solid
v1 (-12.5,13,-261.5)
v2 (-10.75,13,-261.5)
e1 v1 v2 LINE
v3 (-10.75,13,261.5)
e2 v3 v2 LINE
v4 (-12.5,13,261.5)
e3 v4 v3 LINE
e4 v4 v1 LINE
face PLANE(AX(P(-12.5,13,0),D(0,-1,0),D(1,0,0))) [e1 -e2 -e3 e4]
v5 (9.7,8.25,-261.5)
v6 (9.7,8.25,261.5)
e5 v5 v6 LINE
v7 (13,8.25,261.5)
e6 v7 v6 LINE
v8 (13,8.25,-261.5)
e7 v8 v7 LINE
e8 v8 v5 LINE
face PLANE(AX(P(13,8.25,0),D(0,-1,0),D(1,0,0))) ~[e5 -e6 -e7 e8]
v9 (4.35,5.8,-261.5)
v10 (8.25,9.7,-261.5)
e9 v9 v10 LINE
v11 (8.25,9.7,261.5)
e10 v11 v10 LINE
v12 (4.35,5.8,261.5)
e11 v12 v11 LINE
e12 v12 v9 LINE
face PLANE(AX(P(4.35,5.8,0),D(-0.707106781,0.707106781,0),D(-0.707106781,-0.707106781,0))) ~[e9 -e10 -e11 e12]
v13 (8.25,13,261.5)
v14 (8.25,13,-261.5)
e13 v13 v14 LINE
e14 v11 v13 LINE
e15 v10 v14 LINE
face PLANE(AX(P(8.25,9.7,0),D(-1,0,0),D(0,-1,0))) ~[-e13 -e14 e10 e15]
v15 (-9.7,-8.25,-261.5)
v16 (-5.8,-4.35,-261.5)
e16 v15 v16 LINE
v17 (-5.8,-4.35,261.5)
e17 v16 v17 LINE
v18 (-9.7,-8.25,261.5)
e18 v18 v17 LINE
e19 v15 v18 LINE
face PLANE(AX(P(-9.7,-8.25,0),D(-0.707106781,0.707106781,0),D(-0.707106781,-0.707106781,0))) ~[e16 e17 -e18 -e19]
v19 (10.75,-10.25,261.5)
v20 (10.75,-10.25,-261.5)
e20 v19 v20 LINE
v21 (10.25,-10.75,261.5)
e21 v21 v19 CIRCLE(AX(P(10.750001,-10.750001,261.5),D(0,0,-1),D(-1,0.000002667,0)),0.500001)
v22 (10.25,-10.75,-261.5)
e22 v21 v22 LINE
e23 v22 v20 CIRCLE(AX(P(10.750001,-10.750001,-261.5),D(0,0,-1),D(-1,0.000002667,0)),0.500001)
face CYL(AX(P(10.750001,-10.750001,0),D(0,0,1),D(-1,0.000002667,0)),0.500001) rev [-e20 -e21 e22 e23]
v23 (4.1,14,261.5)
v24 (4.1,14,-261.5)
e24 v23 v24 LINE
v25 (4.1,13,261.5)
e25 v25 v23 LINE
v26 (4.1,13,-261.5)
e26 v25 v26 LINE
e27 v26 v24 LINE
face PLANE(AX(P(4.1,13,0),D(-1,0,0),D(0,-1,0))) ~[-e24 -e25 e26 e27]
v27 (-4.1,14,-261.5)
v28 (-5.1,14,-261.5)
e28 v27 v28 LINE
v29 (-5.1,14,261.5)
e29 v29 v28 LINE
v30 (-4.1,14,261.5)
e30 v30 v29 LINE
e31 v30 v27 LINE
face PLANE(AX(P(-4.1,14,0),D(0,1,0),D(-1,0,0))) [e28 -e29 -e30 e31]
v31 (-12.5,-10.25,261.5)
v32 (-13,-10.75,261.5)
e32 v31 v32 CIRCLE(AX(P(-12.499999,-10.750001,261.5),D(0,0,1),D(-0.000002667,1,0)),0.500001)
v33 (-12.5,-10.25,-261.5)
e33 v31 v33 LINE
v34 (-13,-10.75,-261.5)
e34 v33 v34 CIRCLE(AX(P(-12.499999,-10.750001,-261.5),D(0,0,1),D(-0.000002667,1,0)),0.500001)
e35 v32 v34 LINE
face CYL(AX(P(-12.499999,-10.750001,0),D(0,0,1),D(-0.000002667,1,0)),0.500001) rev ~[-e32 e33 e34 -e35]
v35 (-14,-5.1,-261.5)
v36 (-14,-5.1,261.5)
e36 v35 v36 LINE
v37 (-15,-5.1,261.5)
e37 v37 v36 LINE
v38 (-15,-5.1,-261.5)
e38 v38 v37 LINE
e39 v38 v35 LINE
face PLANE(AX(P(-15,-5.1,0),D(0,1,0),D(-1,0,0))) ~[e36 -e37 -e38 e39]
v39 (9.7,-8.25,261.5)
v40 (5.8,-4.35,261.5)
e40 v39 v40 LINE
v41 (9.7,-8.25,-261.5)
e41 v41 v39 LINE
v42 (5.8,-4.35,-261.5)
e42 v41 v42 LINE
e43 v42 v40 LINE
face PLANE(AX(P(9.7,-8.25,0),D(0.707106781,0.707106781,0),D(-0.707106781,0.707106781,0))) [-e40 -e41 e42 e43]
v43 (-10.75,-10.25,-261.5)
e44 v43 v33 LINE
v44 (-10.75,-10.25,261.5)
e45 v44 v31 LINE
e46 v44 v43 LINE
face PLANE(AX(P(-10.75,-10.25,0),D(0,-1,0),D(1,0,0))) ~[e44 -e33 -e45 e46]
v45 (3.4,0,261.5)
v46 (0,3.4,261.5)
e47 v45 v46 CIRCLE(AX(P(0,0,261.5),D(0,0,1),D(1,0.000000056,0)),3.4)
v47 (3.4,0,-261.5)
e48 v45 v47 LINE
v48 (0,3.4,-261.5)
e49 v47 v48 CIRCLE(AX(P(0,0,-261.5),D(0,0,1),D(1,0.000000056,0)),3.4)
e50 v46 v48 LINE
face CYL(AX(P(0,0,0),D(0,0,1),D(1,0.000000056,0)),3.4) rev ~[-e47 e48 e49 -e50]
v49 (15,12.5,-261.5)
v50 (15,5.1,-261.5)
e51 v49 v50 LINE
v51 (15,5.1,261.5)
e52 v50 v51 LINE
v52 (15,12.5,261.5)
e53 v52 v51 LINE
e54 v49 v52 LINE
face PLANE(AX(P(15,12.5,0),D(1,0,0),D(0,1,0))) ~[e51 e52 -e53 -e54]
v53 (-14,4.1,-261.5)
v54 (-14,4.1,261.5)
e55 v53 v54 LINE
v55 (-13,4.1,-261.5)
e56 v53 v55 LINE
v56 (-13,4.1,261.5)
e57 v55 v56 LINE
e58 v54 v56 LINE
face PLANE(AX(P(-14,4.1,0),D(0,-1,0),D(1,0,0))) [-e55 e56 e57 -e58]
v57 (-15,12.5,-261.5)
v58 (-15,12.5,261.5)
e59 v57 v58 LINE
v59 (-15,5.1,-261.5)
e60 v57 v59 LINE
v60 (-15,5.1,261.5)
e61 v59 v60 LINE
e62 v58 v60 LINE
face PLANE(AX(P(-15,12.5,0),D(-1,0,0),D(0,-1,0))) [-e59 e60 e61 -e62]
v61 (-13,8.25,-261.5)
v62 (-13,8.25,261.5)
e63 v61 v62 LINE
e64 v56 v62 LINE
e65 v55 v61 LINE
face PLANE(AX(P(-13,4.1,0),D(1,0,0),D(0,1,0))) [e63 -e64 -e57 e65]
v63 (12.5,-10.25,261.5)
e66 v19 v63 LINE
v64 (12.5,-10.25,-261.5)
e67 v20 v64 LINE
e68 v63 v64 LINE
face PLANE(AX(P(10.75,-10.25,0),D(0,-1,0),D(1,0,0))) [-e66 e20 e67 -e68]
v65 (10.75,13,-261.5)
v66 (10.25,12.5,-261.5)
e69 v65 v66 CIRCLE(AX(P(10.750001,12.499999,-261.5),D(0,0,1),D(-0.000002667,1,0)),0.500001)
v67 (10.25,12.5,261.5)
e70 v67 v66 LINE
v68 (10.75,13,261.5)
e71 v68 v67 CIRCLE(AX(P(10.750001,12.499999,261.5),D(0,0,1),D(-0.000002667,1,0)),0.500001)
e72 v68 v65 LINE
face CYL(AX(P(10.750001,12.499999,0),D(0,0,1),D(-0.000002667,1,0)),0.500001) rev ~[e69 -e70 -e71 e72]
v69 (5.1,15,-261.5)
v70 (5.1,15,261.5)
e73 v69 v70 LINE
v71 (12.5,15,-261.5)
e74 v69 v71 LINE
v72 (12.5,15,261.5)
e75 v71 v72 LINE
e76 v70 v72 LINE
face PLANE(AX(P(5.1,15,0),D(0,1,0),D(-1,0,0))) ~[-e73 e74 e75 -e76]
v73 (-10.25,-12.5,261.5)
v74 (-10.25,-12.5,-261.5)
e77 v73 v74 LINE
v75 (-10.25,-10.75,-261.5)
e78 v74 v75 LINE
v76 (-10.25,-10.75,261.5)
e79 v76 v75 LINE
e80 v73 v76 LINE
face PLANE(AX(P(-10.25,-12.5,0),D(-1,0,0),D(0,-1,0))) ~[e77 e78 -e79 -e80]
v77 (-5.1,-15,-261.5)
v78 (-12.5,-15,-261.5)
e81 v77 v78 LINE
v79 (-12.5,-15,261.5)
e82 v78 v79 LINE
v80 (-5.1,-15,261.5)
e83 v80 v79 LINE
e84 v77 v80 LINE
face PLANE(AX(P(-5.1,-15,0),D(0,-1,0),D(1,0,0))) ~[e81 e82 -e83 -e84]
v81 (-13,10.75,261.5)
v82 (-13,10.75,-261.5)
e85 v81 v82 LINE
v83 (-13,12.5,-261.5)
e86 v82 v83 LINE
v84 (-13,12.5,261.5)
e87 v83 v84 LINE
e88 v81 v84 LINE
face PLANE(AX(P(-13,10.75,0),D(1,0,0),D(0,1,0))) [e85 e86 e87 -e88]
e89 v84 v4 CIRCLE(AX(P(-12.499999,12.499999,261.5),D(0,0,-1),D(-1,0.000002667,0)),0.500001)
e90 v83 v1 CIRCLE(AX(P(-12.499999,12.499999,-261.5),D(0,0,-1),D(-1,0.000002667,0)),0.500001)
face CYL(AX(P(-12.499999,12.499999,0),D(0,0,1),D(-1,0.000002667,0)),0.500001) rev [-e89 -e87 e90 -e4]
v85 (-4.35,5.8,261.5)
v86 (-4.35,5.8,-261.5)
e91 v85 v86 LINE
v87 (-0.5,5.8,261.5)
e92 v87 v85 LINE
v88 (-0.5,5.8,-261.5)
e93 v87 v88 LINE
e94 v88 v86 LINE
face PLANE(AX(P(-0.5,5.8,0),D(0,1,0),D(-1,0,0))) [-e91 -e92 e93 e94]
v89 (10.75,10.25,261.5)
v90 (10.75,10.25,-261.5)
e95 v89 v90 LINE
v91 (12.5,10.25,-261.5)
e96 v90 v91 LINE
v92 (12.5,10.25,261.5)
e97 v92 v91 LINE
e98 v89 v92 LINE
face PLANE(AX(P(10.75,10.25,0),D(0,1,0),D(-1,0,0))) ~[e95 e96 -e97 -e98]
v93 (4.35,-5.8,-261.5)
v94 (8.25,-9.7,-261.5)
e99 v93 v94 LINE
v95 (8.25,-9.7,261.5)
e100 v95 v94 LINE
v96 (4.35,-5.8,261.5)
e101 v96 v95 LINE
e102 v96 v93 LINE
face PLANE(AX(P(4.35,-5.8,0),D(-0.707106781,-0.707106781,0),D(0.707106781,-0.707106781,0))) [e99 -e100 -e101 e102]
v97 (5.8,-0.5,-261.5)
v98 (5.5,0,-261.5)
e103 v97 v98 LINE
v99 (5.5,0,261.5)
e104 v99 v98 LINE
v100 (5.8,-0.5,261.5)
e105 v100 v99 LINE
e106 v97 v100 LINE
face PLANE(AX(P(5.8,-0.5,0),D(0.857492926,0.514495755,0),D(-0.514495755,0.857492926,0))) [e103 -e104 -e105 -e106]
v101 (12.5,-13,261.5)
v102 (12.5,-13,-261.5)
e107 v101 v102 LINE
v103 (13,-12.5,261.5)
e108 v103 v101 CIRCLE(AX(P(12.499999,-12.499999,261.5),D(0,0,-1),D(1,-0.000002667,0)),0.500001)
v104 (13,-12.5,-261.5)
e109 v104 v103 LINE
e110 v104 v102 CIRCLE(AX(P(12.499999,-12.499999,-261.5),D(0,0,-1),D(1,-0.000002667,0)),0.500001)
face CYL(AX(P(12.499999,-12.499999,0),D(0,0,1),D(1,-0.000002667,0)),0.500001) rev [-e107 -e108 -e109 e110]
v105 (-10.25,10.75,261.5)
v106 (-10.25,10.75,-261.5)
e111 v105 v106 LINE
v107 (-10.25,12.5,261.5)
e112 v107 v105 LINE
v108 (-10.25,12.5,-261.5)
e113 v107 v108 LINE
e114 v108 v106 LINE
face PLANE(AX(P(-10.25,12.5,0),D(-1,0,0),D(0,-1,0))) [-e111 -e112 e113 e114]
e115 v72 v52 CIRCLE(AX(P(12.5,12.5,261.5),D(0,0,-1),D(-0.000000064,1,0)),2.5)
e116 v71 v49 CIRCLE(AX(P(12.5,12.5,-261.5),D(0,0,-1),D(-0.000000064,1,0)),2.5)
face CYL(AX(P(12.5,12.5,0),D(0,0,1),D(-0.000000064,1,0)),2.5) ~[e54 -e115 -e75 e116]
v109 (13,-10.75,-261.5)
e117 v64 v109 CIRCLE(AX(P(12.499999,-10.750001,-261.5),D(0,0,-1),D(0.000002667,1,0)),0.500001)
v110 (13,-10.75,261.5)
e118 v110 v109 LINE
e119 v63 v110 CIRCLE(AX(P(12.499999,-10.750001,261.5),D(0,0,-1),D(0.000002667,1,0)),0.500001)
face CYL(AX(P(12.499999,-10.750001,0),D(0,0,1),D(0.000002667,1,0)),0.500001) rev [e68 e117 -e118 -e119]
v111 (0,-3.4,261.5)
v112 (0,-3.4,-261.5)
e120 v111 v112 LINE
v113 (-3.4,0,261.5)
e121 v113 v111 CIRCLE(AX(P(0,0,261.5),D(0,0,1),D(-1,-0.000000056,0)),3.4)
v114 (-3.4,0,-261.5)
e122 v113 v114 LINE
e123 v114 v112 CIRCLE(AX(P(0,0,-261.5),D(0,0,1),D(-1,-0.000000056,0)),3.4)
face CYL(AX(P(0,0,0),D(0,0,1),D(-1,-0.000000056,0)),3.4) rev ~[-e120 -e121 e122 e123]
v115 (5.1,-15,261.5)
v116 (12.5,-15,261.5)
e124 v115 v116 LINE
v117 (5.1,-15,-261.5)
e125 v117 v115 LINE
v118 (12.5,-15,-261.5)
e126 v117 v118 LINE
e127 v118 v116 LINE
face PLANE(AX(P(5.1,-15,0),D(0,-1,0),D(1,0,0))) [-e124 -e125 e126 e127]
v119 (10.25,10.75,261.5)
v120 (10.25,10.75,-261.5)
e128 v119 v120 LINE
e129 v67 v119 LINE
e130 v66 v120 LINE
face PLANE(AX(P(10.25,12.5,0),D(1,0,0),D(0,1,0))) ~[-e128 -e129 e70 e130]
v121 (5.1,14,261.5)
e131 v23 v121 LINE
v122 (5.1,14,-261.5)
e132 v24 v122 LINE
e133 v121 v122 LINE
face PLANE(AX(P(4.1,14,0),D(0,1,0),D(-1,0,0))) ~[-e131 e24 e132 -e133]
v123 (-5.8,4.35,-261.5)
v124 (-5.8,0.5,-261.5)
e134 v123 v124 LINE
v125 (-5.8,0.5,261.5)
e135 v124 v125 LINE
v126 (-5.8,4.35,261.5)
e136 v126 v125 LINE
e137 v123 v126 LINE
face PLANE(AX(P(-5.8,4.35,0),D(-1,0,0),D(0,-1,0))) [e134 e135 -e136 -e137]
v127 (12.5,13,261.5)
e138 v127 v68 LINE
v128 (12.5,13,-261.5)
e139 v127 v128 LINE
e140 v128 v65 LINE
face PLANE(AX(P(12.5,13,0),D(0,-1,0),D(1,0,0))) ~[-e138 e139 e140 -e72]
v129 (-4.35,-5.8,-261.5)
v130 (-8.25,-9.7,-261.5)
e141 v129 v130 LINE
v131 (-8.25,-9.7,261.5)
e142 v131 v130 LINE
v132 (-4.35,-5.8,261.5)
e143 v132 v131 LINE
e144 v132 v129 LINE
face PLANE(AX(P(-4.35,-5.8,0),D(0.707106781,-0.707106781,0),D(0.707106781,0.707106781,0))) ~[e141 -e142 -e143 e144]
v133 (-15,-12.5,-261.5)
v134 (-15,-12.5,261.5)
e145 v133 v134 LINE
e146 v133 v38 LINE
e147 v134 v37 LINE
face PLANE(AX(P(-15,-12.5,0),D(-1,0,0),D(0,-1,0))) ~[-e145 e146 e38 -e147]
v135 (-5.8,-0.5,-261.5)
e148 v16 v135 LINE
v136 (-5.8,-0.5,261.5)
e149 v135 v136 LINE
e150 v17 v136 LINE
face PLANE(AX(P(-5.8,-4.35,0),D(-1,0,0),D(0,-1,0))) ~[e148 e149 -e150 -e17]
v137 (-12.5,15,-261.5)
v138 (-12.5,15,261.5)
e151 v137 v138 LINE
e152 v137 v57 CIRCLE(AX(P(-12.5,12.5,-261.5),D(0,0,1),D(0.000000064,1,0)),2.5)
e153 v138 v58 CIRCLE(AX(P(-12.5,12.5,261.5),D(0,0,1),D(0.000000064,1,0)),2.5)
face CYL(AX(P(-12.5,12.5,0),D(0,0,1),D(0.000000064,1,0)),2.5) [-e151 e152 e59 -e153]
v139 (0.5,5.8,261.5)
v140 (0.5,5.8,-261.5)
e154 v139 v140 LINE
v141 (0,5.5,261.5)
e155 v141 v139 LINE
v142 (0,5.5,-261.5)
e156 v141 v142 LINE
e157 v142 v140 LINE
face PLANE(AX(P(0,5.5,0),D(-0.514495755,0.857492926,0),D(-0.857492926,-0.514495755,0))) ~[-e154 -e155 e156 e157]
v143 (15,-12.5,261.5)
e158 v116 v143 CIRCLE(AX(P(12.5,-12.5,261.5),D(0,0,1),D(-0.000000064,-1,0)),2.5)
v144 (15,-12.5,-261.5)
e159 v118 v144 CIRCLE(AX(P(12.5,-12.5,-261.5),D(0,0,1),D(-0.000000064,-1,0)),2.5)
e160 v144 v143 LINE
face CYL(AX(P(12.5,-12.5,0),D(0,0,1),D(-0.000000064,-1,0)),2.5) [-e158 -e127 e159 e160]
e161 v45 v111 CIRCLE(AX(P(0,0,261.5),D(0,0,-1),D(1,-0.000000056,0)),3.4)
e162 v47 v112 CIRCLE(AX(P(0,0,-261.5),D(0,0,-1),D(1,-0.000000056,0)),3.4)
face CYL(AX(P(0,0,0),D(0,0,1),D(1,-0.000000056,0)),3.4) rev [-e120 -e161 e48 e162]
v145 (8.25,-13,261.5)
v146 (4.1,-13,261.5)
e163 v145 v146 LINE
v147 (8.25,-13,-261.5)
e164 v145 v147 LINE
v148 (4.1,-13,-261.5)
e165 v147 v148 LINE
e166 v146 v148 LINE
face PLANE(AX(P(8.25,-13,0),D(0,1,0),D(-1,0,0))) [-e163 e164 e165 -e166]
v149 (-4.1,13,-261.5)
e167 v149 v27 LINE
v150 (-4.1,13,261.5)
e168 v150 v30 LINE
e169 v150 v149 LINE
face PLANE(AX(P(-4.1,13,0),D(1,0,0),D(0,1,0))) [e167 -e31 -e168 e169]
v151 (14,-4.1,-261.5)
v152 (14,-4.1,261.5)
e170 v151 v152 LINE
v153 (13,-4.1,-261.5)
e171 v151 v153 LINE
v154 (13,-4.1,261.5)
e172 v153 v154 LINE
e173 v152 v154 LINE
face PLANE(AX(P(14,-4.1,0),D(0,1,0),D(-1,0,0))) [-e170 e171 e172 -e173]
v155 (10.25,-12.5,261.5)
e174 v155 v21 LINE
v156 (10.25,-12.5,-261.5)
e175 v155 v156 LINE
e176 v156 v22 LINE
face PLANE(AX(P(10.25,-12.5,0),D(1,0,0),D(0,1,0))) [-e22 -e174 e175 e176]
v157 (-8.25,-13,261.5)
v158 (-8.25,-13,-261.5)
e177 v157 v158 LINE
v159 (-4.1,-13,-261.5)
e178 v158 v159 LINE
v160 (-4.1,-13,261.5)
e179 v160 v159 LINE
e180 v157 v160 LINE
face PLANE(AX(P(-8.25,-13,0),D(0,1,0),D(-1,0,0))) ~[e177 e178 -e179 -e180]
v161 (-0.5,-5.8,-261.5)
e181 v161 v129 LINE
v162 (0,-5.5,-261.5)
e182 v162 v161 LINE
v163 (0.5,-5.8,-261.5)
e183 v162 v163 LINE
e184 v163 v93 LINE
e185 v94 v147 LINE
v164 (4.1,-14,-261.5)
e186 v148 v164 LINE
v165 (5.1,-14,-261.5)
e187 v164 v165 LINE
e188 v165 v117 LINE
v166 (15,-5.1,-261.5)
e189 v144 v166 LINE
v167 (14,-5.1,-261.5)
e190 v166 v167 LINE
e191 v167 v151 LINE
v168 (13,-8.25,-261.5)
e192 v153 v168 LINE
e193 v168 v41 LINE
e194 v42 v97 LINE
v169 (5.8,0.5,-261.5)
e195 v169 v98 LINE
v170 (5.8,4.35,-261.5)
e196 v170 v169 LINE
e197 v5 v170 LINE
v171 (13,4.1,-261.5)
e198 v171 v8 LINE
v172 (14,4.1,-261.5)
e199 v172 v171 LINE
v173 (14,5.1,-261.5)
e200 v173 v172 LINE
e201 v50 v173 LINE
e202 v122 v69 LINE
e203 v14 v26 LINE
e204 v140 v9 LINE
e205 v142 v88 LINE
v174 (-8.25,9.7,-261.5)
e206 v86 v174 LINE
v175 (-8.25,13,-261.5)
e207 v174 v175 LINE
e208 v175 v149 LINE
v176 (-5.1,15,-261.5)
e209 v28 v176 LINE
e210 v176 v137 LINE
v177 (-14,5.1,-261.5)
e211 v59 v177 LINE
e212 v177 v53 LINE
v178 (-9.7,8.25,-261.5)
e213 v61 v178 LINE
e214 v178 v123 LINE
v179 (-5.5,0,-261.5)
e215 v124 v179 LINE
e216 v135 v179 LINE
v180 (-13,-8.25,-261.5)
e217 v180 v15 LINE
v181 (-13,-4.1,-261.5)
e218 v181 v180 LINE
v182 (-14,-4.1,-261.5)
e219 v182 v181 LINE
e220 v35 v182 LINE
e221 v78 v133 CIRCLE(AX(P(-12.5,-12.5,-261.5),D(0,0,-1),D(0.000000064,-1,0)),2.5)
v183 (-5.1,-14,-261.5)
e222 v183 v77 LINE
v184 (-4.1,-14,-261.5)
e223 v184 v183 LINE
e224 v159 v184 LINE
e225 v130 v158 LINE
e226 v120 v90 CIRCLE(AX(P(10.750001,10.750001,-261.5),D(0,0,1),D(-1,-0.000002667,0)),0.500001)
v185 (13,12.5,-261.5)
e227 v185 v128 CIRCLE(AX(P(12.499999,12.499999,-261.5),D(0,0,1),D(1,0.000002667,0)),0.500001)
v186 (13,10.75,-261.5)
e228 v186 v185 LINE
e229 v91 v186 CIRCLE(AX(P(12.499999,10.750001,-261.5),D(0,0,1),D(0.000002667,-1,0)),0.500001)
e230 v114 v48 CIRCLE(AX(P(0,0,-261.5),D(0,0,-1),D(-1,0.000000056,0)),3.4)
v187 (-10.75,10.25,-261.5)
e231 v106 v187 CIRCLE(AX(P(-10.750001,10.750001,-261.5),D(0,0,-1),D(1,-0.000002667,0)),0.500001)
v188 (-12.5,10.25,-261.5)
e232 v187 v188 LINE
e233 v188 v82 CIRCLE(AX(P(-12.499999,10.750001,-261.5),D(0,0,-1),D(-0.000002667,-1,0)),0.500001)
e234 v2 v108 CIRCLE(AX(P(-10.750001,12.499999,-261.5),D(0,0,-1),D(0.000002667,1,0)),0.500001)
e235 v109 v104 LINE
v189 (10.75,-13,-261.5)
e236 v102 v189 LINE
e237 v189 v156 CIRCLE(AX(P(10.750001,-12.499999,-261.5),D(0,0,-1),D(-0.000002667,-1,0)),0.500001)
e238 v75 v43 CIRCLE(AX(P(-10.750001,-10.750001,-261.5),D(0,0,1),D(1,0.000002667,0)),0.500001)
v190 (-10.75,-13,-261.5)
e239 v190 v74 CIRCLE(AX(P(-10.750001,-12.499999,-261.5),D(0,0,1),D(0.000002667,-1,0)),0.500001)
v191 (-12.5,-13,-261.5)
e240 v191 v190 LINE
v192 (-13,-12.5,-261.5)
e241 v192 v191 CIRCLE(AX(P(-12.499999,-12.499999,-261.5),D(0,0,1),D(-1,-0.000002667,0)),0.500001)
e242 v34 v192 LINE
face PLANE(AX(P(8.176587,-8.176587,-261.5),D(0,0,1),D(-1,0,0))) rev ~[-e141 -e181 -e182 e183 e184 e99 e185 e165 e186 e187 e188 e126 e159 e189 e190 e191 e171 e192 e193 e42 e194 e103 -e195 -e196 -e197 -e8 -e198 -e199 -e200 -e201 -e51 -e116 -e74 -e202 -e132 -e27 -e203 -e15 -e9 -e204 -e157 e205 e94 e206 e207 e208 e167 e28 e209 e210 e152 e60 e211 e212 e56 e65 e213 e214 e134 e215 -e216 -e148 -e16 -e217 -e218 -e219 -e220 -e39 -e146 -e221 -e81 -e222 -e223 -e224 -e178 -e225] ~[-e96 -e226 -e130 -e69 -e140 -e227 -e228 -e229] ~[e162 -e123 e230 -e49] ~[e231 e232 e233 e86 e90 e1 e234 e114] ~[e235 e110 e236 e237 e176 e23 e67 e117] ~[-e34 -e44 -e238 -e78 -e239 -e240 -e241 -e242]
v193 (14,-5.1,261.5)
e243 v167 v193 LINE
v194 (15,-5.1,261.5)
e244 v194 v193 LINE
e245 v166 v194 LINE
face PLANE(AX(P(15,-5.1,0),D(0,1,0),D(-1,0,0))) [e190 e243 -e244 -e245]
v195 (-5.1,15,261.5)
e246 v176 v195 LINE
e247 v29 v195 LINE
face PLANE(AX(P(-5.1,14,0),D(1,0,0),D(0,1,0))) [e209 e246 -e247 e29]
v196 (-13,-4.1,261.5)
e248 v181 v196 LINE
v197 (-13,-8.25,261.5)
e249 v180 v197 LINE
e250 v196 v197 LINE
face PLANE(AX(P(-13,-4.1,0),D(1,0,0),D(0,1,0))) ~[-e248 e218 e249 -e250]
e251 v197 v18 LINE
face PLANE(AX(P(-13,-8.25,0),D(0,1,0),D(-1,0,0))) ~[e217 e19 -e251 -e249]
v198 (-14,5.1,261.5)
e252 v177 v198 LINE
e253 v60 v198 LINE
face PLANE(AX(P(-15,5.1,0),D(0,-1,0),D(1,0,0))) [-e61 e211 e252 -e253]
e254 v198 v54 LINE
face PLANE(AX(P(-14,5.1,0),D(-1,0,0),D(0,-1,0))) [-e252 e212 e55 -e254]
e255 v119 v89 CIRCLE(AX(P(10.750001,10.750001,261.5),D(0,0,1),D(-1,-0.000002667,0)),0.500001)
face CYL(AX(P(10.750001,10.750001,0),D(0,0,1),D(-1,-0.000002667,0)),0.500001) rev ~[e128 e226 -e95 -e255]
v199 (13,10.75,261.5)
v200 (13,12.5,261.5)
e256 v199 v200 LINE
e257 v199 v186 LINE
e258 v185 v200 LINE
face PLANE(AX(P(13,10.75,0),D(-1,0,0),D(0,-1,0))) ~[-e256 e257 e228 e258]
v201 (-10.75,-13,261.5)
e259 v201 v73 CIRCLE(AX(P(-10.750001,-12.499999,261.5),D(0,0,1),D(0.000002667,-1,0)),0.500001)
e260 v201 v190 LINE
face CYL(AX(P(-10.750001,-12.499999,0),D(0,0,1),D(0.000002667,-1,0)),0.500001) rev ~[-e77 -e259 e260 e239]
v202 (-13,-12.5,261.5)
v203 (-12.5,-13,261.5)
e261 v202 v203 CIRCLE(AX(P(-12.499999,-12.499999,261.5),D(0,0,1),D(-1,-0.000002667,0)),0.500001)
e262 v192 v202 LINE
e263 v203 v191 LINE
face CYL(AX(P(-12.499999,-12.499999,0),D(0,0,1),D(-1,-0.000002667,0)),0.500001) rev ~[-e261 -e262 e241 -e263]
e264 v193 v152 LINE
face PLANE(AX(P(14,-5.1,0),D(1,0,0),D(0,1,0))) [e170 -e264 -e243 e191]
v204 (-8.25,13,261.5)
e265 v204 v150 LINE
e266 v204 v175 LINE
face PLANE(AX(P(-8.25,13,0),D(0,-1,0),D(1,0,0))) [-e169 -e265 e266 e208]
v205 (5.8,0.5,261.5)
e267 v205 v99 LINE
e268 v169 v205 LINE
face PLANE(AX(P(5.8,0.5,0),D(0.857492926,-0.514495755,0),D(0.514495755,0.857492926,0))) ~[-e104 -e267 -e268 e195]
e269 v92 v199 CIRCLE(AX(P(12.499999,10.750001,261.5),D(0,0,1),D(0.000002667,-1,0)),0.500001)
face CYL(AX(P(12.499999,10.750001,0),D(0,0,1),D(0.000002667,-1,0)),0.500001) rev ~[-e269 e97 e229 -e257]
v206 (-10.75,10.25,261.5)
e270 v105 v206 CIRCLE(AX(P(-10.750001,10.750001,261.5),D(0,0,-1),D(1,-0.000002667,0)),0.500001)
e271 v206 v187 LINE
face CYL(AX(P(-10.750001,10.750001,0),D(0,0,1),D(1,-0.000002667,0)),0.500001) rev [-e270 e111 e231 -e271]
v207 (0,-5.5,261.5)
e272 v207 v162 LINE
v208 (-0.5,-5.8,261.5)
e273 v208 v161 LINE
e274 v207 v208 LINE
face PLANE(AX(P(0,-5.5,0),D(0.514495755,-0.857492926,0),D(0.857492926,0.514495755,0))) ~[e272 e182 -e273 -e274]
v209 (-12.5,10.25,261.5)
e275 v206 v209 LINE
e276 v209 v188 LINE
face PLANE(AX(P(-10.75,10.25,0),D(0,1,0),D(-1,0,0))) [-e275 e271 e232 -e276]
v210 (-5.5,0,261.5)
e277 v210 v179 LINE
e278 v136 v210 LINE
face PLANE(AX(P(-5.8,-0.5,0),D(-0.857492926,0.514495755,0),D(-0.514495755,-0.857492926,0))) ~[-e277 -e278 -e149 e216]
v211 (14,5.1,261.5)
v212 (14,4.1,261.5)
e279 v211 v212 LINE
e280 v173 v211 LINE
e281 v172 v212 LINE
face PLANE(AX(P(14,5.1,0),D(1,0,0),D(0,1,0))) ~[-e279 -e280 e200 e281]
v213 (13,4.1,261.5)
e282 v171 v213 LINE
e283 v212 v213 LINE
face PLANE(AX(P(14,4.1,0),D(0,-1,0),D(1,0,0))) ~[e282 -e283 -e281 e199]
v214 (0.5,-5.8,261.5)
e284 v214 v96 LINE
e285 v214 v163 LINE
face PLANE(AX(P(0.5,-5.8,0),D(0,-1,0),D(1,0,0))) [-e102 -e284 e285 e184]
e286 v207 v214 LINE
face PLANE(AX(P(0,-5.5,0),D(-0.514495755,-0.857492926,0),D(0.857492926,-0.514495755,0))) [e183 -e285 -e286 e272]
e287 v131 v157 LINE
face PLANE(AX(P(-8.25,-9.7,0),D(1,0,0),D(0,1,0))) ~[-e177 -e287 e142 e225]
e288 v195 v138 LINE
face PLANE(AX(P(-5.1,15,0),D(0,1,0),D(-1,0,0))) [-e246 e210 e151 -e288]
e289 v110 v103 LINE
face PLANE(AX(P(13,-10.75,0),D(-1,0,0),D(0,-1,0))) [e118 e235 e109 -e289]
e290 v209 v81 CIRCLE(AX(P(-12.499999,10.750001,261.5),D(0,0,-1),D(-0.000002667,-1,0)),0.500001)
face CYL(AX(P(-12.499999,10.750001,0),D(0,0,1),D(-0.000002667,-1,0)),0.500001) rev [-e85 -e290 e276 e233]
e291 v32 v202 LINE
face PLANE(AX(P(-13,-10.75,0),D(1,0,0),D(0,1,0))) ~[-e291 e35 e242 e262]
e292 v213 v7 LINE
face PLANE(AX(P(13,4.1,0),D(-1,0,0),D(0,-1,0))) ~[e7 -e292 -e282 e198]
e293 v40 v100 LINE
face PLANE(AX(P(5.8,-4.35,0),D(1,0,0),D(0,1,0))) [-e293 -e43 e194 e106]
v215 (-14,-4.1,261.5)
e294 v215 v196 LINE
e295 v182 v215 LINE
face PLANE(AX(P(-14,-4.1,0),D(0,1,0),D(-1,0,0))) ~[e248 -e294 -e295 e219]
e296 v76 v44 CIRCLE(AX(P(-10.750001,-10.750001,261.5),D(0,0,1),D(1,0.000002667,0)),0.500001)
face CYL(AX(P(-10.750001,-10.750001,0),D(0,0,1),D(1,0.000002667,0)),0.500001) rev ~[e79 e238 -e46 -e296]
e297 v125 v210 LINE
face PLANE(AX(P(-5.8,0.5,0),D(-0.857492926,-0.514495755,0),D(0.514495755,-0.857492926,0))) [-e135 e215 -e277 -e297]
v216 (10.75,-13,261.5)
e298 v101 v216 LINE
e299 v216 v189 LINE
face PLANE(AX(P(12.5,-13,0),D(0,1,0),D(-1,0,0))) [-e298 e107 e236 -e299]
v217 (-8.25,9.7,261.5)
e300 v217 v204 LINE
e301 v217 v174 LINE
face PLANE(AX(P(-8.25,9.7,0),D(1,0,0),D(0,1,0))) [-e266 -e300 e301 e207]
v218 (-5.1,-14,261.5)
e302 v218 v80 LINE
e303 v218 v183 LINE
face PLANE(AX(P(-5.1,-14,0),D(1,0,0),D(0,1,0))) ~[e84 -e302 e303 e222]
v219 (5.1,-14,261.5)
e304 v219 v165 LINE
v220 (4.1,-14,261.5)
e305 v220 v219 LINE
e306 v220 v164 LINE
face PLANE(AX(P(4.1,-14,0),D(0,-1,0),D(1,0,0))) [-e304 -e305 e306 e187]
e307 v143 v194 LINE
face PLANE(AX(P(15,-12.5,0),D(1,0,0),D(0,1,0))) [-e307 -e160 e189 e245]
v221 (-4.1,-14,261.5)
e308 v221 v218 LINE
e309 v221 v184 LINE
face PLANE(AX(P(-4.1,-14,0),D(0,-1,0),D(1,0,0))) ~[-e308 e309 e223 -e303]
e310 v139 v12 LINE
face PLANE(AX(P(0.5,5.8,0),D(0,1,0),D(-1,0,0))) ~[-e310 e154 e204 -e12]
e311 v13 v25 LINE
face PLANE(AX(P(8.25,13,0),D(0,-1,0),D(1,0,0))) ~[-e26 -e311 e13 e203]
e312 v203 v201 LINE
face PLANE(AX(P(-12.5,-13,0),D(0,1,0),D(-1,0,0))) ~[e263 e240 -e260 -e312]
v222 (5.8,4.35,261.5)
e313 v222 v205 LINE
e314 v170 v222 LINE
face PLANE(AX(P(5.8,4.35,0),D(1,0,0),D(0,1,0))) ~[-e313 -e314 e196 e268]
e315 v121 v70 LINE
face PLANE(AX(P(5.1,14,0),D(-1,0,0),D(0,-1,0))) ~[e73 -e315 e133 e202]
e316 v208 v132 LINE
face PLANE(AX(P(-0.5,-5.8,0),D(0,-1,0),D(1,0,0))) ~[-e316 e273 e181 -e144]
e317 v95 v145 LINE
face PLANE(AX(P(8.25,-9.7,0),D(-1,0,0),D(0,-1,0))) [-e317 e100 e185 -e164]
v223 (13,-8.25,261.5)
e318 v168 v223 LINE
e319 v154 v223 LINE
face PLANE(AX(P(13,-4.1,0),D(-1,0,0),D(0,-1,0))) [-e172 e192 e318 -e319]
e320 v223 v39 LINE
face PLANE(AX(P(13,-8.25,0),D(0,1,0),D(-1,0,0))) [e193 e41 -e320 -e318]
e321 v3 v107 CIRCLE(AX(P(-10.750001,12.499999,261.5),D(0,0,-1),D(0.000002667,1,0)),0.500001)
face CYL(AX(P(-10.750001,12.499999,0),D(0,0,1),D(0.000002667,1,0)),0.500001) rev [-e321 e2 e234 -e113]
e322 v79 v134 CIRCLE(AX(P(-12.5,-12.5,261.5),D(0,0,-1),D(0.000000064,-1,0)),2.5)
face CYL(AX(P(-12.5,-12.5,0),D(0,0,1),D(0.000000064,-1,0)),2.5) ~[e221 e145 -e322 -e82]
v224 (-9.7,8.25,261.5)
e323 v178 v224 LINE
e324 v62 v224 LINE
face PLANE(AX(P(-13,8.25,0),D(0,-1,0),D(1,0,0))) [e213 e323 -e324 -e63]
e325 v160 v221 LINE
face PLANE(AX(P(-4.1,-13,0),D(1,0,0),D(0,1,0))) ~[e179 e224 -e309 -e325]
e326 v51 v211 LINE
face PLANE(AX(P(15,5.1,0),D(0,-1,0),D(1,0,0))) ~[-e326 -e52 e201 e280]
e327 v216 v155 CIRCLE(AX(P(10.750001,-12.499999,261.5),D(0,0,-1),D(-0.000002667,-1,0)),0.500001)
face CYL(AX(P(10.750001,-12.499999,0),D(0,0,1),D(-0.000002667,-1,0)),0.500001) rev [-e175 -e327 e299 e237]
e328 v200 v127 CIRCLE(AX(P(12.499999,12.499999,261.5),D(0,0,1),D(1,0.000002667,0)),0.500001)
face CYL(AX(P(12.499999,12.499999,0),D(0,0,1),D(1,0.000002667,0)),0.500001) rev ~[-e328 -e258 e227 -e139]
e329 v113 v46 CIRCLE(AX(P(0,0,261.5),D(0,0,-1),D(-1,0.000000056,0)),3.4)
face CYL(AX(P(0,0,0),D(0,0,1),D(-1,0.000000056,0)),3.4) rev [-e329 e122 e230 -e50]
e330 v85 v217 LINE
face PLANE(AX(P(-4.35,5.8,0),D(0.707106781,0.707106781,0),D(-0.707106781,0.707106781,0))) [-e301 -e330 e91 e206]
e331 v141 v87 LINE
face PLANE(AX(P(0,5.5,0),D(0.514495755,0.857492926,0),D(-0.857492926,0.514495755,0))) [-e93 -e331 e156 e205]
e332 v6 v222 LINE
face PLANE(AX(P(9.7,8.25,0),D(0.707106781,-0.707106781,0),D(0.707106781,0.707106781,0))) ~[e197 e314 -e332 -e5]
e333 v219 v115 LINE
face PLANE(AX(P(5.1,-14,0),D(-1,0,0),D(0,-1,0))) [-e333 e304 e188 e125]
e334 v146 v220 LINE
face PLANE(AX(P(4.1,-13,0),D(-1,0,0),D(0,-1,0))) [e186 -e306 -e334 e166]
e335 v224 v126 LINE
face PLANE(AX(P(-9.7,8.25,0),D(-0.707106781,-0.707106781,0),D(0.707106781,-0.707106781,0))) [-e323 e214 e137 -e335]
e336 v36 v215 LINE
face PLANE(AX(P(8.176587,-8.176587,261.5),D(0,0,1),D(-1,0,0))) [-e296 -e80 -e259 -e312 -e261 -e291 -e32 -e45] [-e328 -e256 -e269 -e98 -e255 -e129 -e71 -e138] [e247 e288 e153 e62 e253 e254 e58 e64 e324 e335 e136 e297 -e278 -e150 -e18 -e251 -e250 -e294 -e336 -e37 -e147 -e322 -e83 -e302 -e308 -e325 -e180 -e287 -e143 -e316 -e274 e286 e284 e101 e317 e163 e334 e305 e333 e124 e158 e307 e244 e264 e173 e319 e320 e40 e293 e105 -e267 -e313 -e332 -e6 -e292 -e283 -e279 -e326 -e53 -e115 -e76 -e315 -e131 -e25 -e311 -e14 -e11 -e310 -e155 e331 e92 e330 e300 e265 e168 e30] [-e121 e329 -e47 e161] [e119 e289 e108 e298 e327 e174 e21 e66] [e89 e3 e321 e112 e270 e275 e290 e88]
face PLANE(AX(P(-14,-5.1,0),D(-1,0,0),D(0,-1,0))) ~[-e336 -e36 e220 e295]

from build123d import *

# Parameters (mm, degrees)
F1_DEPTH = 261.5


with BuildPart() as f1:
    # F0 (on Top) → F1 (new body, symmetric)
    with BuildSketch(Plane.XY):
        with BuildLine():
            Line((-5.1, 14), (-5.1, 15))
            Line((-5.1, 15), (-12.5, 15))
            ThreePointArc((-12.5, 15), (-14.267767, 14.267767), (-15, 12.5))
            Line((-15, 12.5), (-15, 5.1))
            Line((-15, 5.1), (-14, 5.1))
            Line((-14, 5.1), (-14, 4.1))
            Line((-14, 4.1), (-13, 4.1))
            Line((-13, 4.1), (-13, 8.25))
            Line((-13, 8.25), (-9.7, 8.25))
            Line((-9.7, 8.25), (-5.8, 4.35))
            Line((-5.8, 4.35), (-5.8, 0.5))
            Line((-5.8, 0.5), (-5.5, 0))
            Line((-5.5, 0), (-3.4, 0))
            ThreePointArc((-3.4, 0), (-2.404163, 2.404163), (0, 3.4))
            Line((0, 3.4), (0, 5.5))
            Line((0, 5.5), (-0.5, 5.8))
            Line((-0.5, 5.8), (-4.35, 5.8))
            Line((-4.35, 5.8), (-8.25, 9.7))
            Line((-8.25, 9.7), (-8.25, 13))
            Line((-8.25, 13), (-4.1, 13))
            Line((-4.1, 13), (-4.1, 14))
            Line((-4.1, 14), (-5.1, 14))
        make_face()
        with BuildLine():
            ThreePointArc((-13, 12.5), (-12.853553, 12.853553), (-12.5, 13))
            Line((-12.5, 13), (-10.75, 13))
            ThreePointArc((-10.75, 13), (-10.396447, 12.853553), (-10.25, 12.5))
            Line((-10.25, 12.5), (-10.25, 10.75))
            ThreePointArc((-10.25, 10.75), (-10.396447, 10.396447), (-10.75, 10.25))
            Line((-10.75, 10.25), (-12.5, 10.25))
            ThreePointArc((-12.5, 10.25), (-12.853553, 10.396447), (-13, 10.75))
            Line((-13, 10.75), (-13, 12.5))
        make_face(mode=Mode.SUBTRACT)
    extrude(amount=F1_DEPTH, both=True)

    # F2: F1 across face


with BuildPart() as f1_1:
    add(f1.part)
    add(f1.part.mirror(Plane(origin=(0, 4.45, 0), x_dir=(0, 1, 0), z_dir=(1, 0, 0))))

    # F3: F1 across face


with BuildPart() as f1_2:
    add(f1_1.part)
    add(f1_1.part.mirror(Plane(origin=(-4.45, 0, 0), x_dir=(1, 0, 0), z_dir=(0, -1, 0))))


solid = f1_2.part
